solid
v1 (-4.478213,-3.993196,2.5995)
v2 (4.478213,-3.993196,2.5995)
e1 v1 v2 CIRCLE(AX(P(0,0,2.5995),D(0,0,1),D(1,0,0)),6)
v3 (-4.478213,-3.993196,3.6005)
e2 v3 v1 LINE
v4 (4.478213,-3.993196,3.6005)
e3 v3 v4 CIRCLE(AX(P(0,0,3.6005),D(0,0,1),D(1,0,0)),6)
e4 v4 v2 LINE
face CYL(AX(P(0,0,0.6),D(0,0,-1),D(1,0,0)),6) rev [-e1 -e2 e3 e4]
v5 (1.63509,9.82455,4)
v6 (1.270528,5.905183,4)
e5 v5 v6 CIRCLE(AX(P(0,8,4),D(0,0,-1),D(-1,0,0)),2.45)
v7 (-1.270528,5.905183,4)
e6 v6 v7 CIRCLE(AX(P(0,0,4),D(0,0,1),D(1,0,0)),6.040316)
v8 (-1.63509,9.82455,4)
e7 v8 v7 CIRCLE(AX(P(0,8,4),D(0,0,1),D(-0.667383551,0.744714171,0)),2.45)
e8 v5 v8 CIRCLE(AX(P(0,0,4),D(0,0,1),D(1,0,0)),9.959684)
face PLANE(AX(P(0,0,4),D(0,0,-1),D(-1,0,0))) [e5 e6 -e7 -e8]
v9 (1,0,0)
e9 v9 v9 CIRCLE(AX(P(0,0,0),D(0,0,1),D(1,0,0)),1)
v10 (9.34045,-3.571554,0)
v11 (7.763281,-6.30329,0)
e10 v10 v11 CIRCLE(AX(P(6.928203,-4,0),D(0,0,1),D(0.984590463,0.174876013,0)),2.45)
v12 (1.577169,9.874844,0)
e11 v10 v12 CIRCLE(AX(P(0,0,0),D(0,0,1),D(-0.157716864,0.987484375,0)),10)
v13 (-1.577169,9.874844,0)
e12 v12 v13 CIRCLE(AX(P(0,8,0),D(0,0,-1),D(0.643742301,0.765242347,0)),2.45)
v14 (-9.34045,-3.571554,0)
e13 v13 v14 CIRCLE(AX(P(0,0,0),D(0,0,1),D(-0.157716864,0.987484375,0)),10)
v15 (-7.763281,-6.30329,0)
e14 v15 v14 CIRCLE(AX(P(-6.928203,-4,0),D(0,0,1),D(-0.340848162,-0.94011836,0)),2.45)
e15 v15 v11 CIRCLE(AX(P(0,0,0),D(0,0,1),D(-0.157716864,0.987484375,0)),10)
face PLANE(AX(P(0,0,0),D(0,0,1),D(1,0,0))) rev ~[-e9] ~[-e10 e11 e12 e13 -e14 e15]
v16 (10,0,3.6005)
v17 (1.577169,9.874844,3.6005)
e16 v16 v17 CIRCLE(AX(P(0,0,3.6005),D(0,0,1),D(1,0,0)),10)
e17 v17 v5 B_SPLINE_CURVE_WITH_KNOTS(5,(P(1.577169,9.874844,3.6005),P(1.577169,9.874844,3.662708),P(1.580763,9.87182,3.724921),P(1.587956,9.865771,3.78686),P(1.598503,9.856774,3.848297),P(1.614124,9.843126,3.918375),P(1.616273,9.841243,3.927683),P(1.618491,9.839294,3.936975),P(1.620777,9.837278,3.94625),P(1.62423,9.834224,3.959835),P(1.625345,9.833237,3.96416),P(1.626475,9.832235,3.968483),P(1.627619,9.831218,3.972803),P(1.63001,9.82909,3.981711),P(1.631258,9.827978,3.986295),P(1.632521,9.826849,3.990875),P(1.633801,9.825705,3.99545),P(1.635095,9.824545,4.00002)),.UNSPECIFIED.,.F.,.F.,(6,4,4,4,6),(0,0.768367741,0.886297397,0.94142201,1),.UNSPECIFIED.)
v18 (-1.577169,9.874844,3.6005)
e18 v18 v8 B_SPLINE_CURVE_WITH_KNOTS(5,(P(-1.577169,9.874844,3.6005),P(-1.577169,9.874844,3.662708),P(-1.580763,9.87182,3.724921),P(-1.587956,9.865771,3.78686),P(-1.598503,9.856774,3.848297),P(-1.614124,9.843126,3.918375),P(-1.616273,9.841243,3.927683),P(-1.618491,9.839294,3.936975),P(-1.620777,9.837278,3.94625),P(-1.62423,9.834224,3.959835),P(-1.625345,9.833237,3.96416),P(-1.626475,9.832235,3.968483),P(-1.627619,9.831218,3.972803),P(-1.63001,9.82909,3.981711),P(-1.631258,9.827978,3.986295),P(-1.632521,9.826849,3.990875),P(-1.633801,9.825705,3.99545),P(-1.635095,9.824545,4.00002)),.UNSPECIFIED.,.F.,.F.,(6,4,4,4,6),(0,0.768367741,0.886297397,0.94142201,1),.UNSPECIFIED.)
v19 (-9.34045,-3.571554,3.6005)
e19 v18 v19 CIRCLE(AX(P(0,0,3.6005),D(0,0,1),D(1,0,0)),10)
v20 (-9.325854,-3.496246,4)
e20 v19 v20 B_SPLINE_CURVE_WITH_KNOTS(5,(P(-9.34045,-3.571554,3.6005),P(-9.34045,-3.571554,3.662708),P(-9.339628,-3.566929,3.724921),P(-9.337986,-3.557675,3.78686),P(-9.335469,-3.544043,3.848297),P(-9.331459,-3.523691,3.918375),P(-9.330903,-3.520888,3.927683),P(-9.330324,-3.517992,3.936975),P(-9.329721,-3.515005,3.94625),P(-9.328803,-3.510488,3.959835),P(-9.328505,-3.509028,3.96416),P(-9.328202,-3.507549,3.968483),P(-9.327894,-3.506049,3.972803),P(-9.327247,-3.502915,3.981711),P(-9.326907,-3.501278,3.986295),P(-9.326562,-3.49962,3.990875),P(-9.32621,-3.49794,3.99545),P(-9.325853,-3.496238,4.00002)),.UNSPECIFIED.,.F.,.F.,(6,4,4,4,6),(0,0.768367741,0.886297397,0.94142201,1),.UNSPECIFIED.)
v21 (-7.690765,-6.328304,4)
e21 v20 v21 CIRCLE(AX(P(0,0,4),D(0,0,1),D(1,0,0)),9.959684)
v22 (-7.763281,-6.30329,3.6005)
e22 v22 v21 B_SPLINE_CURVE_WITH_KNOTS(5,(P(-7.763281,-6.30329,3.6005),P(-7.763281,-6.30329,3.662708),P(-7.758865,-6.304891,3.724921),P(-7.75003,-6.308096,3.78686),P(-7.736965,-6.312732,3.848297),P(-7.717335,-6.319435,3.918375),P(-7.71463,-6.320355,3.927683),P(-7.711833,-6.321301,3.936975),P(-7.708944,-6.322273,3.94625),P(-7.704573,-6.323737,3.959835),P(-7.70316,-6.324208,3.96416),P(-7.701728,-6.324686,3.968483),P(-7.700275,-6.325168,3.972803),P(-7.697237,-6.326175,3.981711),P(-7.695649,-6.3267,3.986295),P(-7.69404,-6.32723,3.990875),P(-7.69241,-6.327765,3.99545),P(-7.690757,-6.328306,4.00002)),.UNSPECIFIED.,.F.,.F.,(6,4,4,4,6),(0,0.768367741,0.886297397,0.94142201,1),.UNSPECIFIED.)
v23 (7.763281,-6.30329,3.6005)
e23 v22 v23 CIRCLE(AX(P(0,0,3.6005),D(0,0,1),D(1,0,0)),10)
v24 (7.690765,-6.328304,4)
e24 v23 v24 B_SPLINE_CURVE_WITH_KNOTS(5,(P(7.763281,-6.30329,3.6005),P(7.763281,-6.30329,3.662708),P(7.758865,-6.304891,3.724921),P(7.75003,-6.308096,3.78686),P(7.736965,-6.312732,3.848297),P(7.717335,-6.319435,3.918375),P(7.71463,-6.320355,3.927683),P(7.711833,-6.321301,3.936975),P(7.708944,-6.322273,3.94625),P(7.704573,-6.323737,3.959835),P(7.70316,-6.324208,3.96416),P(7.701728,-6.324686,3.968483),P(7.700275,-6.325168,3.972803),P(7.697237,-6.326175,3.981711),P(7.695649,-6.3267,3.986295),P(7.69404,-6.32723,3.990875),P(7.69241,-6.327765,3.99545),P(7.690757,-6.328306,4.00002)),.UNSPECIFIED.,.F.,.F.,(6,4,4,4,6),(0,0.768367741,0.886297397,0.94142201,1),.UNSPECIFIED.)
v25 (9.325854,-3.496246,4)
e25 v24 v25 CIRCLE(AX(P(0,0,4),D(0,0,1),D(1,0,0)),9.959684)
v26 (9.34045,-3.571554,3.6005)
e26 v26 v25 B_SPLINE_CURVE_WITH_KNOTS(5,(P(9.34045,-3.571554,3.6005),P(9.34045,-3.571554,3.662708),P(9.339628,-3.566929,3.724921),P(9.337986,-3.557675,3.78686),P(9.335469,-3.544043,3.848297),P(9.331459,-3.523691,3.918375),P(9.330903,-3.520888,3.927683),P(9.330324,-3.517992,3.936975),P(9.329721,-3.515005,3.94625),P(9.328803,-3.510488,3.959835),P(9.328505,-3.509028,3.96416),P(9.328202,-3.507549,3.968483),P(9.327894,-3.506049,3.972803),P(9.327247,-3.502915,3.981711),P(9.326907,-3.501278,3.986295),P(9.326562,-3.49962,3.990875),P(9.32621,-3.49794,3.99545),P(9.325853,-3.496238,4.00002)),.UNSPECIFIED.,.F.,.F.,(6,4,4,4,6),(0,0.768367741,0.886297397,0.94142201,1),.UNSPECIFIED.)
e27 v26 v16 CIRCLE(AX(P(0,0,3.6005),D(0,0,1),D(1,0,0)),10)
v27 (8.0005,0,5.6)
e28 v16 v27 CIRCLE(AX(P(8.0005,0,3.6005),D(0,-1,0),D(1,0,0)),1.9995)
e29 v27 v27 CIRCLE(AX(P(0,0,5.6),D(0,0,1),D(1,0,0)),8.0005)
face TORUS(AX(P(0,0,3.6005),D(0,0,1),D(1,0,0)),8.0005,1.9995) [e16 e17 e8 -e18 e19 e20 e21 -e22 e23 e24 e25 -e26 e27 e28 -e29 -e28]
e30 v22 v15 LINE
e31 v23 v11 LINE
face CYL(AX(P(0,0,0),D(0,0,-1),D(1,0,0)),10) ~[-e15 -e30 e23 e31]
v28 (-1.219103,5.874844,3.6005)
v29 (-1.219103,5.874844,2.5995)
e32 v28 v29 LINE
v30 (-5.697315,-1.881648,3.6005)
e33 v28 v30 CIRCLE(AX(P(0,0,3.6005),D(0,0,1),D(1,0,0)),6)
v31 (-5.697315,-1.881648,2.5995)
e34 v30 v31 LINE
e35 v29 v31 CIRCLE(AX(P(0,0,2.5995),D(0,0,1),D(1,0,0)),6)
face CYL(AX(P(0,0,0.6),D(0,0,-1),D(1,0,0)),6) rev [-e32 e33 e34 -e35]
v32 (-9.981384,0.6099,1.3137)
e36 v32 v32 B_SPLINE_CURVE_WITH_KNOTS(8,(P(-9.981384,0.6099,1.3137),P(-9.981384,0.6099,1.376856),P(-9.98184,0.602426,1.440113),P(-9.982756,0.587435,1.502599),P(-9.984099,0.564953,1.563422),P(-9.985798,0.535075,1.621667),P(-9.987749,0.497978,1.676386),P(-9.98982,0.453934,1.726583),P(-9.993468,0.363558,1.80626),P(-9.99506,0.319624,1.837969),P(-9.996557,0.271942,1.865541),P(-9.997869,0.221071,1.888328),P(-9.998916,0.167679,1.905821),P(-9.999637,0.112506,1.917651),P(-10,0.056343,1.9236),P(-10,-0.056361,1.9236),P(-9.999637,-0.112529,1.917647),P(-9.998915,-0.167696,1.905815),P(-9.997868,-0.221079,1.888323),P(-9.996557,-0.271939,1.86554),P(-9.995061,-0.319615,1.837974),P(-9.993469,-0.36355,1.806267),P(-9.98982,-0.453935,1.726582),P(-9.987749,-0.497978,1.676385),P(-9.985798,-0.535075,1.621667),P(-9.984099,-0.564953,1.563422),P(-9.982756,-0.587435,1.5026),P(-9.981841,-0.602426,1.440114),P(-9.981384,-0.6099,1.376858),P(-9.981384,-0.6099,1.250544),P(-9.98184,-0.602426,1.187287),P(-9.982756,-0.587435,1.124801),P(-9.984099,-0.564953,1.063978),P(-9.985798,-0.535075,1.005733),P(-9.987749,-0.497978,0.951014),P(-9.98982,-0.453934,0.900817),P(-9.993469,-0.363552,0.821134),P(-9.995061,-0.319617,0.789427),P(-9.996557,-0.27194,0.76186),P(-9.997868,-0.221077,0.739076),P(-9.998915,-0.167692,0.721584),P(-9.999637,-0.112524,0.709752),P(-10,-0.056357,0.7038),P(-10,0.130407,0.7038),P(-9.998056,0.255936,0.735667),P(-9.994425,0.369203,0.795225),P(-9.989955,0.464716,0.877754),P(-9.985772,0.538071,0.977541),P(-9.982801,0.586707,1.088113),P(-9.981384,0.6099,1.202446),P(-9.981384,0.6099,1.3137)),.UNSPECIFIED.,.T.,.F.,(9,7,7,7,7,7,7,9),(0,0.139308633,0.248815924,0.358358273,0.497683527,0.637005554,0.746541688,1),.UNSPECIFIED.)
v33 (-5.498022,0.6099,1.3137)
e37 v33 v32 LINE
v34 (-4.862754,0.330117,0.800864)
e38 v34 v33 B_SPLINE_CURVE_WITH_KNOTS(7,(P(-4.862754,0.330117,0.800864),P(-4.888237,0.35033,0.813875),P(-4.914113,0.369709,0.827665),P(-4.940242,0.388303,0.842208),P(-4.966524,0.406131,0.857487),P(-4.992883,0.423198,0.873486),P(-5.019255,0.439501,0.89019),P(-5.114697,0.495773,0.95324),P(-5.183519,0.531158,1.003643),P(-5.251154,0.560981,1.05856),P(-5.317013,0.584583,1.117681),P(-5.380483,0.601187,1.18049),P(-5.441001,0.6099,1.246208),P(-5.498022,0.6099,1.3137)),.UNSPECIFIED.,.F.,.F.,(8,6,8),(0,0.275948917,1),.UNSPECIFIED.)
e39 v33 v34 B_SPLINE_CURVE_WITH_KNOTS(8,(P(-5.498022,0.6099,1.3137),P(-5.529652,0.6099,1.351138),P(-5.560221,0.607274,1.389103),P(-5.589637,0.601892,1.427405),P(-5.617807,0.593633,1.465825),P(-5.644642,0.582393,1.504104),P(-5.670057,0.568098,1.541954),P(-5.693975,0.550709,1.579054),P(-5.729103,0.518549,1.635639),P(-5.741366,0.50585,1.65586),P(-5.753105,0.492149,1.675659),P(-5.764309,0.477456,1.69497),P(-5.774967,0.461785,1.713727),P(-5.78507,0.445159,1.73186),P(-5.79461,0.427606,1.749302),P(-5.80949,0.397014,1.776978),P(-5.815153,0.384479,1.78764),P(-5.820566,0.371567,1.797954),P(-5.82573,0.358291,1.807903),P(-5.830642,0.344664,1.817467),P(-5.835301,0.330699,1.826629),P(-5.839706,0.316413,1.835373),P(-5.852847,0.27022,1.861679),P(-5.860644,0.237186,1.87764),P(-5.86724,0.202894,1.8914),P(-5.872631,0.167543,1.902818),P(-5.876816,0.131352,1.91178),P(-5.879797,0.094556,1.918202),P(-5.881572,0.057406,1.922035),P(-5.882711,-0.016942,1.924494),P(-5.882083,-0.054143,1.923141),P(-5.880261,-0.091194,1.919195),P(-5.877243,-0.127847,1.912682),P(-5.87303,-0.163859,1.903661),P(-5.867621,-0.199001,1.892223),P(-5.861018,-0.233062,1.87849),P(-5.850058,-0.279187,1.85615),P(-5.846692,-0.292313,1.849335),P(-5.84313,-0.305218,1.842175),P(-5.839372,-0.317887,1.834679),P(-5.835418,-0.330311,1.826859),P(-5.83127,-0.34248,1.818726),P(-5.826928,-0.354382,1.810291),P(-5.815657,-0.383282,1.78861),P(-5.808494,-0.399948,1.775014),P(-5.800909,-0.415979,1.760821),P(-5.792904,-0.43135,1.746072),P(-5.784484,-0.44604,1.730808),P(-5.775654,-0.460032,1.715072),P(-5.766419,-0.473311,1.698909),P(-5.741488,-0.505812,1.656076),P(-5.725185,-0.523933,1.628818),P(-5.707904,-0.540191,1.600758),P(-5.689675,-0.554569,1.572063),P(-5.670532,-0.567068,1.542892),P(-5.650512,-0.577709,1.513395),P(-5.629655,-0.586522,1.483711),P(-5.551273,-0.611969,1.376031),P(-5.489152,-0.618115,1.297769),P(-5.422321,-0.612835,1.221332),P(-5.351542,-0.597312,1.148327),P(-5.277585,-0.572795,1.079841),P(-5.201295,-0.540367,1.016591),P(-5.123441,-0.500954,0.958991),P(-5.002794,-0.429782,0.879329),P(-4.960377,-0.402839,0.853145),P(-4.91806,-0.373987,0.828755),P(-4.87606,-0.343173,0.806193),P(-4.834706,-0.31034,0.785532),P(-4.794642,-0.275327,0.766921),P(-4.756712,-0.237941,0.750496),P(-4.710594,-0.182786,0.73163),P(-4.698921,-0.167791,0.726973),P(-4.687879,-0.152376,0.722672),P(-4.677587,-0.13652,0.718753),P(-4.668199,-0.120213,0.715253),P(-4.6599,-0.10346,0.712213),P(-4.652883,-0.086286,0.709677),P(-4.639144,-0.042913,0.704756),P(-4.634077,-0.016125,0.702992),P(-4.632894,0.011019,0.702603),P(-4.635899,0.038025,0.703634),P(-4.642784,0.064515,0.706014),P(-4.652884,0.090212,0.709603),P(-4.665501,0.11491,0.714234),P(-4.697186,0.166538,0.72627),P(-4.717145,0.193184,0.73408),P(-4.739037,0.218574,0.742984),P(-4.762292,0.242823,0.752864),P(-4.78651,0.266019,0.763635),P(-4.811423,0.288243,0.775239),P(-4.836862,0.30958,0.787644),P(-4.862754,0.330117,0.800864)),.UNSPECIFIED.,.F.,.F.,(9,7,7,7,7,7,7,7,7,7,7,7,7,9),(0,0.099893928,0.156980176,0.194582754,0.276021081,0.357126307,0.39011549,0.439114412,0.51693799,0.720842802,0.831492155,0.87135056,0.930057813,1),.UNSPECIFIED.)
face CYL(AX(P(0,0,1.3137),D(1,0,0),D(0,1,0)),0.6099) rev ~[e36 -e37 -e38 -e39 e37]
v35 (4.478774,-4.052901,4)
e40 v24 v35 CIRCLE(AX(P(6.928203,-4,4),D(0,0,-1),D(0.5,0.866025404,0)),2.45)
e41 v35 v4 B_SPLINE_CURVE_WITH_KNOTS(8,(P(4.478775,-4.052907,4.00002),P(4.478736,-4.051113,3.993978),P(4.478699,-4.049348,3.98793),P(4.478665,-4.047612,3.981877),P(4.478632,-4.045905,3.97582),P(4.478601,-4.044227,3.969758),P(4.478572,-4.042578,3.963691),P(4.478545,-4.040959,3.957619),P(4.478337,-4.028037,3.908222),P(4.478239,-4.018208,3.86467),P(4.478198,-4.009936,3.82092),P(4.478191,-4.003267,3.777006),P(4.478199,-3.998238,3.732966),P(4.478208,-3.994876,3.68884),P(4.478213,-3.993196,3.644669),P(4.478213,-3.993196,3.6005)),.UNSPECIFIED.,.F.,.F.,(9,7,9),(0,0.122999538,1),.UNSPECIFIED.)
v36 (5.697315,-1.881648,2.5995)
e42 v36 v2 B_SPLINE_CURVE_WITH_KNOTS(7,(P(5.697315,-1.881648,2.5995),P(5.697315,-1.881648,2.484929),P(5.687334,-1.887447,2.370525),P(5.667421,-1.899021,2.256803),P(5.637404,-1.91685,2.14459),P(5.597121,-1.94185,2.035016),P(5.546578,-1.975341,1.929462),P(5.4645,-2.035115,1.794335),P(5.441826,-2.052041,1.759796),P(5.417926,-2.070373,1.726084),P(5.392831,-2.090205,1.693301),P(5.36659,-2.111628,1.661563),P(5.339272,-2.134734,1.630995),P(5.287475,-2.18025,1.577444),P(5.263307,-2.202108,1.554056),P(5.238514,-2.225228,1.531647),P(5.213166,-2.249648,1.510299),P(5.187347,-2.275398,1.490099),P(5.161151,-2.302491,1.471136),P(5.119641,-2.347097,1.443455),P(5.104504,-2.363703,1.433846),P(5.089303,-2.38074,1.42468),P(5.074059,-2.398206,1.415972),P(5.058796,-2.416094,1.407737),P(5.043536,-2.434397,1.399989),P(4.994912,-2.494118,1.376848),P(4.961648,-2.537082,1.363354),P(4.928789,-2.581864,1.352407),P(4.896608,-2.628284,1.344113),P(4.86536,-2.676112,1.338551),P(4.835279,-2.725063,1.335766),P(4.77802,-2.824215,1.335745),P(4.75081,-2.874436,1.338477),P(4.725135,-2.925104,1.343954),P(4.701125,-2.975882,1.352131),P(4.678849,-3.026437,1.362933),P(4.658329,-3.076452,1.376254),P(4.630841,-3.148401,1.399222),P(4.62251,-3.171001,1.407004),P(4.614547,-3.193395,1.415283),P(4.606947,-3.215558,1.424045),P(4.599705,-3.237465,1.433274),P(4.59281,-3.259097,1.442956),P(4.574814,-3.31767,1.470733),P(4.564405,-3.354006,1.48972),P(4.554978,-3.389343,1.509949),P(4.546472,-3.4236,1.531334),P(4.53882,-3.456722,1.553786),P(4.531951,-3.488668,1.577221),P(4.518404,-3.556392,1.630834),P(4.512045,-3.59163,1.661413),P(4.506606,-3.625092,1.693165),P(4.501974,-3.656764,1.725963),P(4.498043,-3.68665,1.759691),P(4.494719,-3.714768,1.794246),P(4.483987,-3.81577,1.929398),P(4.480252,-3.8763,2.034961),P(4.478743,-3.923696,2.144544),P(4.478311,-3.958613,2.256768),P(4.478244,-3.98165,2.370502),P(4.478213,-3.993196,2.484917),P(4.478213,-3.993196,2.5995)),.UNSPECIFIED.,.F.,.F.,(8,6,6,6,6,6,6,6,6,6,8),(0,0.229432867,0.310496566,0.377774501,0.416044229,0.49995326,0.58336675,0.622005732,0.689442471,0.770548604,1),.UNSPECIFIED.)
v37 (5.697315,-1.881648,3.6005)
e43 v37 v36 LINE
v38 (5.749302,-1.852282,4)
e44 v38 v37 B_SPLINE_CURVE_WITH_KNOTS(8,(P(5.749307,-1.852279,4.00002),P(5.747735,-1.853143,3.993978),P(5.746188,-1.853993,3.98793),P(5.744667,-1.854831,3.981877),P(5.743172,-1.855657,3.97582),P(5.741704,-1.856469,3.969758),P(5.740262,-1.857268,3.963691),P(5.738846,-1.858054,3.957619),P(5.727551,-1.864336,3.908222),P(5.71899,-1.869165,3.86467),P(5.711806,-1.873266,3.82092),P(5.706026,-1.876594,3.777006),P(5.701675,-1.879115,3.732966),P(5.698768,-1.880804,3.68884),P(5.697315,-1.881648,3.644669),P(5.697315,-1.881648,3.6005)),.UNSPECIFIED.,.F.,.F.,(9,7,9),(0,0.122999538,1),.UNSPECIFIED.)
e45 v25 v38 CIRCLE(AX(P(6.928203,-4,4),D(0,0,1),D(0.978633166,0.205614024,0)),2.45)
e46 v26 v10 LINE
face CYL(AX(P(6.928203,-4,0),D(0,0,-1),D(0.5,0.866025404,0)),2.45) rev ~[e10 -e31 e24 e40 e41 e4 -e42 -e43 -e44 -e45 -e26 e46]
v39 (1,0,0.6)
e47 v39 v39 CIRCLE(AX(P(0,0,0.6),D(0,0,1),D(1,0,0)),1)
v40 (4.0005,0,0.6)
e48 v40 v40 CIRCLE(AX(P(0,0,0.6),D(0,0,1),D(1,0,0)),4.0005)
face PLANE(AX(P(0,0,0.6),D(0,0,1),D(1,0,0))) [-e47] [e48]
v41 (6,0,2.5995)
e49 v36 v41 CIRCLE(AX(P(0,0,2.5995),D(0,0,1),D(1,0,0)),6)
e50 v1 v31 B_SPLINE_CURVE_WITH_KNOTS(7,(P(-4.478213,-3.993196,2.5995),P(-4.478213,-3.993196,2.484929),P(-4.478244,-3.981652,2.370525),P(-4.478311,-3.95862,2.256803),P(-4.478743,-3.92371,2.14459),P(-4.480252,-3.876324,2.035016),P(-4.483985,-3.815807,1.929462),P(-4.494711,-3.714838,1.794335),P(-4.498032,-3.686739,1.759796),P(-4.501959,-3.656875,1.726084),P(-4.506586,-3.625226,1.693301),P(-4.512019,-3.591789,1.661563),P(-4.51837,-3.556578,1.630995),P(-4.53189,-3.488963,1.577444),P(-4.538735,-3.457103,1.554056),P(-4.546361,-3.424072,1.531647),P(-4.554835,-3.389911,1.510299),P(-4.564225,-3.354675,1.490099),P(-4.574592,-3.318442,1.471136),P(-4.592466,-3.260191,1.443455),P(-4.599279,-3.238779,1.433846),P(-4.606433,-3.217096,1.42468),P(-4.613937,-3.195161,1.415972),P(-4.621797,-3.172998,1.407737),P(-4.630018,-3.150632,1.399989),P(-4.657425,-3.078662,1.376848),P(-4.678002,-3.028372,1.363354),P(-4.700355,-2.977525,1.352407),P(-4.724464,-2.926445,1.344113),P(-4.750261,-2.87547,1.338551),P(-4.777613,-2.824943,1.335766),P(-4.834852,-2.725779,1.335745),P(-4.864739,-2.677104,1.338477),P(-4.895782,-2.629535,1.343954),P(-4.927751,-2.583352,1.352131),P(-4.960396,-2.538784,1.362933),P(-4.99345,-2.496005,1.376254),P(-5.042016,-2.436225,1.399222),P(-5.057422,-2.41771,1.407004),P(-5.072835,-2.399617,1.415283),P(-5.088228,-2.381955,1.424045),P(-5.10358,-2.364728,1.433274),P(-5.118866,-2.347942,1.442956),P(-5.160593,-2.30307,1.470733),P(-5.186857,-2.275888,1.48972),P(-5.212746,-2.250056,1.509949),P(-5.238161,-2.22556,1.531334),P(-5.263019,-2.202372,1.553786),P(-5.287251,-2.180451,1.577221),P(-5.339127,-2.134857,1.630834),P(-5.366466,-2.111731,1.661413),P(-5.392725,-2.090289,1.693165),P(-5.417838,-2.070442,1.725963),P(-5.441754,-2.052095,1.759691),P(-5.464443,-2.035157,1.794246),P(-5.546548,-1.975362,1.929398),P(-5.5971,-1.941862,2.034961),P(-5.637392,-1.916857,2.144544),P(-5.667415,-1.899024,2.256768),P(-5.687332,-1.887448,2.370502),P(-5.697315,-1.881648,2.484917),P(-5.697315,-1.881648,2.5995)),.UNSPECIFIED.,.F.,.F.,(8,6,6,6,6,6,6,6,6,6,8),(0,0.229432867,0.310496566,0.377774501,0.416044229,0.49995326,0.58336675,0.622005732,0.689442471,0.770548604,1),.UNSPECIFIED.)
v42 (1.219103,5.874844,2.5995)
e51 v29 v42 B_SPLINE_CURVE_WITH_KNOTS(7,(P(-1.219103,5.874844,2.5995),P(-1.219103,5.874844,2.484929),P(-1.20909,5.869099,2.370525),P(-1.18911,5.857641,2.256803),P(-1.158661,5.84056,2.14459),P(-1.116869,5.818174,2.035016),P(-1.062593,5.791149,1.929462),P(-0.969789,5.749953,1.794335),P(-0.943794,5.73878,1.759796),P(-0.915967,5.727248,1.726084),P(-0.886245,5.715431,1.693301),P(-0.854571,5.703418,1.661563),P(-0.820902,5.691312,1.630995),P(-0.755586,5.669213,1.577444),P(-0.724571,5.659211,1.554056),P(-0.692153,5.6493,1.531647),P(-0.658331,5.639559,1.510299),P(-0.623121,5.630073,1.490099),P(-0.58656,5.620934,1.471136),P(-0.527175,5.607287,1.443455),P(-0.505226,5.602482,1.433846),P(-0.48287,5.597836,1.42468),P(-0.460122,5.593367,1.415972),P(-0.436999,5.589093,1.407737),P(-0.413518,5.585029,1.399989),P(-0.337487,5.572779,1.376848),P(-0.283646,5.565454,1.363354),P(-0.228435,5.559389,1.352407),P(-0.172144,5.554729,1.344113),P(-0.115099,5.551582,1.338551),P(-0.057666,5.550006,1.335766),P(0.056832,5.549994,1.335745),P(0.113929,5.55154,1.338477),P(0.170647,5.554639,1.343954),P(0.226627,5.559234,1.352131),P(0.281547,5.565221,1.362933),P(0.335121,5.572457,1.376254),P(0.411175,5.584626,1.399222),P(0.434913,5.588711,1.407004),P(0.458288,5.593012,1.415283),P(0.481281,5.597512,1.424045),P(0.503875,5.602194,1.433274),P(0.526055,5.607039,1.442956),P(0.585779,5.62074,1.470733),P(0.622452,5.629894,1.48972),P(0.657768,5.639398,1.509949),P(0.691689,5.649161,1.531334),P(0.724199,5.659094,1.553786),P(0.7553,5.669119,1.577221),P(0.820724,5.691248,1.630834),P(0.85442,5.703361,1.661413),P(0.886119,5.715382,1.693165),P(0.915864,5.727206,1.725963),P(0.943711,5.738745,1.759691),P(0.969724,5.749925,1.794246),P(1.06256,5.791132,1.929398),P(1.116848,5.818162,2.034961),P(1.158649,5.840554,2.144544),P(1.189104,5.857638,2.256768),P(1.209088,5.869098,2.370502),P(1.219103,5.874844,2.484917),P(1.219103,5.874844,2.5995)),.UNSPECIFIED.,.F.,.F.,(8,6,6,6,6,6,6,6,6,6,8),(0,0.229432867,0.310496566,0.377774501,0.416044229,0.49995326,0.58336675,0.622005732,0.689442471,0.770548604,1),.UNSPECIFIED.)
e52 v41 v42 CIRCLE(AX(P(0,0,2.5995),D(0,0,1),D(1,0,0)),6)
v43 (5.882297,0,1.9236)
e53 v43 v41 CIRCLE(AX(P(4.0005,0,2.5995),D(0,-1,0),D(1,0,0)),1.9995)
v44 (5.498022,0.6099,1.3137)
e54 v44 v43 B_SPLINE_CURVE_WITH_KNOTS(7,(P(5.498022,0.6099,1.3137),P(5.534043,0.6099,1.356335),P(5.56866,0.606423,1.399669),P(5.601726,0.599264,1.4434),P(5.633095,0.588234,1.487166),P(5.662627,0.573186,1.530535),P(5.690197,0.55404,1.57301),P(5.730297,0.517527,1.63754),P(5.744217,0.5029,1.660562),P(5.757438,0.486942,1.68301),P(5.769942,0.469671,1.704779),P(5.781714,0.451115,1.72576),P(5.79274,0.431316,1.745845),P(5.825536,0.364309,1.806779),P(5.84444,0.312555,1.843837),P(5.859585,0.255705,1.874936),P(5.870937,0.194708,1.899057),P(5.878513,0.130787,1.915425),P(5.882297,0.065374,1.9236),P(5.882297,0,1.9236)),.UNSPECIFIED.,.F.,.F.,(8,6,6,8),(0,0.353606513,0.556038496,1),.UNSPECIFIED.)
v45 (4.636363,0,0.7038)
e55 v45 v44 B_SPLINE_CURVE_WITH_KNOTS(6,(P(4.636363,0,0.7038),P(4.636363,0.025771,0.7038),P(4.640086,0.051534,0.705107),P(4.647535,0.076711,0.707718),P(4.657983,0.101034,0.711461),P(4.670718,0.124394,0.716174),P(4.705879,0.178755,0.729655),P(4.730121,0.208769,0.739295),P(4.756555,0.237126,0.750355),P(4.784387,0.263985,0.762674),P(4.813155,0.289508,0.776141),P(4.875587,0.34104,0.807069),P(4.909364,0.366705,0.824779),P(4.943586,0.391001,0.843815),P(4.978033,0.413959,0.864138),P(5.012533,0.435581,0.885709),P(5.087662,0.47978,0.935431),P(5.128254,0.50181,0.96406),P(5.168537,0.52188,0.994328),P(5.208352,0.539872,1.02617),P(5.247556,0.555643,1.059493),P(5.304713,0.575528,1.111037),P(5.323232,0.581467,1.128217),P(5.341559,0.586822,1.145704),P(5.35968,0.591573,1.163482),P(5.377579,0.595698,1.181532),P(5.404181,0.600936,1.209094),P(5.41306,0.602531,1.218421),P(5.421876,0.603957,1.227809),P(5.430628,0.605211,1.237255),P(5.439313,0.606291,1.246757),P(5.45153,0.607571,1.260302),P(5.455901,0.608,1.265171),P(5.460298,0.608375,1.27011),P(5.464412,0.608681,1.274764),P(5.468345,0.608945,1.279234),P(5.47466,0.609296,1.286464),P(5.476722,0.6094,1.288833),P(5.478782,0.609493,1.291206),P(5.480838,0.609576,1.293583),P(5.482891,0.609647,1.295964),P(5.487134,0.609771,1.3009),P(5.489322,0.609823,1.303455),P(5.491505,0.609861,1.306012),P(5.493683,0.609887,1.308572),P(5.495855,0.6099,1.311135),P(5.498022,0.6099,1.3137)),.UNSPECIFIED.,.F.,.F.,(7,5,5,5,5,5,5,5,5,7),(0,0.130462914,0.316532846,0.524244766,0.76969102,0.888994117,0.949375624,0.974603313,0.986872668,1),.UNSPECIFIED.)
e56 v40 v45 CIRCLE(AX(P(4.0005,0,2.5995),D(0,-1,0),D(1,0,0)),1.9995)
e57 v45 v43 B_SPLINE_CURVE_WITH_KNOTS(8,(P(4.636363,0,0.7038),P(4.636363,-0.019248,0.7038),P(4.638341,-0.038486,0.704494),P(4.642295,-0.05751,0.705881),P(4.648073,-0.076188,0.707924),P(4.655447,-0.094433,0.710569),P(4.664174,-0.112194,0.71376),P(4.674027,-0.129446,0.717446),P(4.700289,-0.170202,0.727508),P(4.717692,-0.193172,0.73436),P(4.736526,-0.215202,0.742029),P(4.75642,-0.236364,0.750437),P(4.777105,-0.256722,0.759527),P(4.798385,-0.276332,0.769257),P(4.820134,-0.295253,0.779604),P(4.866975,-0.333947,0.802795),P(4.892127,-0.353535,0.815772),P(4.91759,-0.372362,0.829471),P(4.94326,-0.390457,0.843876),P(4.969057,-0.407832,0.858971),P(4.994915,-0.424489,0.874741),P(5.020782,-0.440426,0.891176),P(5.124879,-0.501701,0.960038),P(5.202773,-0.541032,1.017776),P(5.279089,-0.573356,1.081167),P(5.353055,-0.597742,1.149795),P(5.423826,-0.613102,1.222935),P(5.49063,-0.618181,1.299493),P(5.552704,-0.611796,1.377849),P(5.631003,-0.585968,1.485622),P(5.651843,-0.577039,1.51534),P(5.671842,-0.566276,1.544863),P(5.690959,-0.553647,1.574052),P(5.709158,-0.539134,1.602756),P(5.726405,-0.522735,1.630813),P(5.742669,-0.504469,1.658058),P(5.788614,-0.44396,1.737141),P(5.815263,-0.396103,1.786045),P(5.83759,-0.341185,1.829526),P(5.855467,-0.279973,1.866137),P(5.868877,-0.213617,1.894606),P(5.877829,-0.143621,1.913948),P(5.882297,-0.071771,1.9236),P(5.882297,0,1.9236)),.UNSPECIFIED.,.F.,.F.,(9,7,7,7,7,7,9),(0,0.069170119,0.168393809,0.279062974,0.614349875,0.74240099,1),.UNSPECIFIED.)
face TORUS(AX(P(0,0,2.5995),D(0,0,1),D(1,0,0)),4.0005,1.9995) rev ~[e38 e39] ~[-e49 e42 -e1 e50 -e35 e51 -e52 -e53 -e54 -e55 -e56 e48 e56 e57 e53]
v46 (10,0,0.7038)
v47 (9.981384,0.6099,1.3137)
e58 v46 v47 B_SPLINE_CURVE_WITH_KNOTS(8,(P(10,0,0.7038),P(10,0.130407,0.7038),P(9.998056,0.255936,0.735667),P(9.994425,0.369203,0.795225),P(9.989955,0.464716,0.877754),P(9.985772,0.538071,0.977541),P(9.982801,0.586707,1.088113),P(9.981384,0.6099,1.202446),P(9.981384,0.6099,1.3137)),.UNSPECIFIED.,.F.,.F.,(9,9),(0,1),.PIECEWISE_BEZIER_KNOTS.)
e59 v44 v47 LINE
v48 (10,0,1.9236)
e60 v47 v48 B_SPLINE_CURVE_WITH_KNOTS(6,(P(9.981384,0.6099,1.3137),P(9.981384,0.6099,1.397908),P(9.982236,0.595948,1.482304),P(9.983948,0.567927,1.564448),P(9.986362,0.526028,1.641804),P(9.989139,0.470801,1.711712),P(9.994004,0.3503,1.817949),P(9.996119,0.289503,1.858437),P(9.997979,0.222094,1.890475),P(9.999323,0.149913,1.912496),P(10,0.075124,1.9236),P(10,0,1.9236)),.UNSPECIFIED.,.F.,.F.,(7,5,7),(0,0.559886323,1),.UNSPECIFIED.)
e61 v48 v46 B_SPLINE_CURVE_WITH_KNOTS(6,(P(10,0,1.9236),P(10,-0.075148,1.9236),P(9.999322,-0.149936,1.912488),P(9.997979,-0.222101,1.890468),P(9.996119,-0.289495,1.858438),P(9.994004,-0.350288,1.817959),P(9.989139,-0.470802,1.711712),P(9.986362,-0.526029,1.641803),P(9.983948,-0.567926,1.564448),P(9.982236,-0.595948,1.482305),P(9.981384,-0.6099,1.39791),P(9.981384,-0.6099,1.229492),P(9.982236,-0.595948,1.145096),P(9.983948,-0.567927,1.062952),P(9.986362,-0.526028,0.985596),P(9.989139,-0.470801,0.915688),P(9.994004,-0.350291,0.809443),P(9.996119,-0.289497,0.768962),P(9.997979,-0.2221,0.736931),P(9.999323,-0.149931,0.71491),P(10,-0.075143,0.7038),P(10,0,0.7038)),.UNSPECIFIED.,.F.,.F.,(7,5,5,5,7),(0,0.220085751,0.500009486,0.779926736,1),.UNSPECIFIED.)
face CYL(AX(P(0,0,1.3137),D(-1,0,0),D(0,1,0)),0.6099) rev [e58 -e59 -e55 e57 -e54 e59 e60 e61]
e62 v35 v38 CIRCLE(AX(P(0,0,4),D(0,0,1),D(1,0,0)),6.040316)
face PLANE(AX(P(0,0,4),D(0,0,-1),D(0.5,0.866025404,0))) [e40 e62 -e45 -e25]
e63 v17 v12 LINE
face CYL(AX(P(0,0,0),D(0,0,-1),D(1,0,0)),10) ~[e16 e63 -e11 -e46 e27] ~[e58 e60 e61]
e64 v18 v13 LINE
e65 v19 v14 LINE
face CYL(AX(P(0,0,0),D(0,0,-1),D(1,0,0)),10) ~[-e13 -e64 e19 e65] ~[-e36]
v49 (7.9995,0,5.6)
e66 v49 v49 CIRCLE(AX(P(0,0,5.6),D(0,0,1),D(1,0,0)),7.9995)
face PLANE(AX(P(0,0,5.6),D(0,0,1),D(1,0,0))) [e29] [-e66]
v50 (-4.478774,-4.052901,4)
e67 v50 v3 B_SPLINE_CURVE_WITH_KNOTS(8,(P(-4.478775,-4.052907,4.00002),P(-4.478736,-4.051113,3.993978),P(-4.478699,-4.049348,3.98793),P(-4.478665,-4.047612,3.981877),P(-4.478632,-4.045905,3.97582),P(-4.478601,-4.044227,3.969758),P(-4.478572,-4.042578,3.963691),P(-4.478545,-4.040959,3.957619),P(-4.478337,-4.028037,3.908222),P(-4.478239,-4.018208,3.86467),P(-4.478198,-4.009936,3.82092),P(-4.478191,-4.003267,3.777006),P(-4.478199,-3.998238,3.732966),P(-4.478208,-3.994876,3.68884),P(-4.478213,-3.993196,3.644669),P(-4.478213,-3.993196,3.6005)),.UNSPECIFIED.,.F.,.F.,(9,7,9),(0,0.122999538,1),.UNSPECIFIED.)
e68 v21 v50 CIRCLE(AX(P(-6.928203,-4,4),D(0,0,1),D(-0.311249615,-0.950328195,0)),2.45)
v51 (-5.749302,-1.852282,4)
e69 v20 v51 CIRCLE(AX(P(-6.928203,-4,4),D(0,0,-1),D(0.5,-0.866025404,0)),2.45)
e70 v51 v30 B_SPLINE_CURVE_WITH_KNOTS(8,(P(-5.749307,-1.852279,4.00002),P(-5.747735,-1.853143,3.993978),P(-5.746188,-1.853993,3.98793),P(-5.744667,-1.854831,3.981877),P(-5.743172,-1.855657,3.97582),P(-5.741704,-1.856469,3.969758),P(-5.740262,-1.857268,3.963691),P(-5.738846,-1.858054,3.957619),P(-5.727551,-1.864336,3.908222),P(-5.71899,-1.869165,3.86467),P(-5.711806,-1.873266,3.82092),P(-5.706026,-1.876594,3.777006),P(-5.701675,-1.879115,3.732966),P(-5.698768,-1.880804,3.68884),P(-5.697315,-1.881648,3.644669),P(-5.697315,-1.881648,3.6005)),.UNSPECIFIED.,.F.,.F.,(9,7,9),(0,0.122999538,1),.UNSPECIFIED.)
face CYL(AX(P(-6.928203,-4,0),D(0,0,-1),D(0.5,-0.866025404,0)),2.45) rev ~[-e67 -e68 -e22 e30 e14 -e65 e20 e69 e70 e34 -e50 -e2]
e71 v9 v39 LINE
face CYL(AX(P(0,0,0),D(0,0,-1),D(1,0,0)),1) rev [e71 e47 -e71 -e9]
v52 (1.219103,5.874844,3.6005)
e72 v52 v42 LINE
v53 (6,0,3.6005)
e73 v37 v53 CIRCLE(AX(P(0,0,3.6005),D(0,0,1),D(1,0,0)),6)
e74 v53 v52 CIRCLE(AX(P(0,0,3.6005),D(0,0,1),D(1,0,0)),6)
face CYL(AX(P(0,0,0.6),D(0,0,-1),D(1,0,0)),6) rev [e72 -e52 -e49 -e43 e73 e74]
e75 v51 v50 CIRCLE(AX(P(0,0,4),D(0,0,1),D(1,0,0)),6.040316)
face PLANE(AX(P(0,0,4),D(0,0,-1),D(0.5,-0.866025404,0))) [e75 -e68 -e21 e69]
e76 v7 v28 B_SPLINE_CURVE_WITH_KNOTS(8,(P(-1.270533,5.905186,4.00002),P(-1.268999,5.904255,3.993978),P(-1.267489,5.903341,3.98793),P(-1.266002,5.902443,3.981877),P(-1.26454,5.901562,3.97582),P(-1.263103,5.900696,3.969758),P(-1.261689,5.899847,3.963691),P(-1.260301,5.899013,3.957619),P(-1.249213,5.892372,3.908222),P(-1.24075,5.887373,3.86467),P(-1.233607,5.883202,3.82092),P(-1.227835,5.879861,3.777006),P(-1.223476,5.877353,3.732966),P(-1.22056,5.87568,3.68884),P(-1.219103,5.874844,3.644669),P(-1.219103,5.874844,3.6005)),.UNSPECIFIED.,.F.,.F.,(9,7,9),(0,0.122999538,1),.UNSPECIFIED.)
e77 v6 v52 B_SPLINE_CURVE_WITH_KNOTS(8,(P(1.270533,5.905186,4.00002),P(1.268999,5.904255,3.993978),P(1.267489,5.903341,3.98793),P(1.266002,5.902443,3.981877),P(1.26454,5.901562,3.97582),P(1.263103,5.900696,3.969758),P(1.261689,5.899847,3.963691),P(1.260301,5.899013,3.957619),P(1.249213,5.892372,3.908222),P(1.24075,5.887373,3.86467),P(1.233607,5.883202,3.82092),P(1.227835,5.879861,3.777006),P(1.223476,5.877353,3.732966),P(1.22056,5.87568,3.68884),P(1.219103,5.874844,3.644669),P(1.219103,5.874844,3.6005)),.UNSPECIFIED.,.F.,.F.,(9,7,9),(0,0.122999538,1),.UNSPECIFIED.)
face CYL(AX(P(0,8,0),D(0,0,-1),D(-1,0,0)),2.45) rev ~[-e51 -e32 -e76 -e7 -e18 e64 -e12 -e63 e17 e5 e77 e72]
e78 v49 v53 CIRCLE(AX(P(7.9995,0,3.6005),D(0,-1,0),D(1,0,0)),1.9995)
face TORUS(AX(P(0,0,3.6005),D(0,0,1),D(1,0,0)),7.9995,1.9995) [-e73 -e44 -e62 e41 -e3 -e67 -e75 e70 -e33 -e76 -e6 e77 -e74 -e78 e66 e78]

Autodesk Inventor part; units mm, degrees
ref_plane "YZ Plane" through (0, 0, 0) normal (1, 0, 0) x (0, 1, 0)
ref_plane "XZ Plane" through (0, 0, 0) normal (0, 1, 0) x (-1, 0, 0)
ref_plane "XY Plane" through (0, 0, 0) normal (0, 0, 1) x (1, 0, 0)
sketch "Sketch1" plane through (0, 0, 0) normal (0, 0, 1) x (1, 0, 0)
  circle A0 centre (0, 0) radius 10
  circle A1 centre (0, 0) radius 1
  dimension "d34" = 20
  dimension "d35" = 2
extrude "Extrusion1" add sketch "Sketch1" along normal blind 0.6
sketch "Sketch2" plane through (0, 0, 0.6) normal (0, 0, 1) x (1, 0, 0)
  circle A0 centre (0, 0) radius 10 projected
  circle A1 centre (0, 0) radius 6
  dimension "d8" = 4
extrude "Extrusion2" add sketch "Sketch2" along normal blind 5
fillet "Fillet1" radius 2 3 edges at (-6, 0, 0.6) (-6, 0, 5.6) (-10, 0, 5.6)
sketch "Sketch3" plane through (0, 0, 0) normal (0, 0, -1) x (-1, 0, 0)
  circle A0 centre (0, 0) radius 10 projected
  circle A1 centre (0, -0.75) radius 0.25 projected
  line L0 (-0.2487, -0.7372) -> (-0.25, -0.75)
  line L1 (0, -0.5128) -> (0, -1.0128) construction
  arc A2 (0, -0.5128) -> (-0.2487, -0.7372) centre (0, -0.7628) ccw
  arc A3 (-0.2447, -0.699) -> (0.2447, -0.699) centre (0, -0.75) ccw
  line L2 (0.2487, -0.7372) -> (0.25, -0.75)
  arc A4 (0.2487, -0.7372) -> (0, -0.5128) centre (0, -0.7628) ccw
  point P0 (0, -0.5)
  dimension "d17" = 0.25
sketch "Sketch4" plane through (0, 0, 0) normal (0, 0, -1) x (-1, 0, 0)
  circle A0 centre (0, 0) radius 10 projected
  circle A1 centre (0, 8) radius 2.45
  dimension "d18" = 4.9
  dimension "d19" = 8
extrude "Extrusion4" cut sketch "Sketch4" against normal blind 4 contours A1 A0 | A0 A1 picked at (-0.0666, 8.5101) picked at (0, 10.1407)
pattern_circular "Circular Pattern2" count 3 over 360 about axis through (0, 0, 0) along (0, 0, 1) of "Extrusion4"
sketch "Sketch8" plane through (0, 0, 0) normal (1, 0, 0) x (0, 1, 0)
  line L0 (-3.5716, 0) -> (-3.5716, 3.6) projected
  line L1 (9.8748, 3.6) -> (-3.5716, 3.6) projected
  line L2 (9.8748, 3.6) -> (9.8748, 0) projected
  line L3 (-3.5716, 0) -> (9.8748, 0) projected
  circle A0 centre (0, 1.3137) radius 0.6099
  point P0 (0, 0)
extrude "Extrusion6" cut sketch "Sketch8" along normal through all both and the other way through all contours A0
properties part number "30_Cube_openSIM_Fouriermask_1"
